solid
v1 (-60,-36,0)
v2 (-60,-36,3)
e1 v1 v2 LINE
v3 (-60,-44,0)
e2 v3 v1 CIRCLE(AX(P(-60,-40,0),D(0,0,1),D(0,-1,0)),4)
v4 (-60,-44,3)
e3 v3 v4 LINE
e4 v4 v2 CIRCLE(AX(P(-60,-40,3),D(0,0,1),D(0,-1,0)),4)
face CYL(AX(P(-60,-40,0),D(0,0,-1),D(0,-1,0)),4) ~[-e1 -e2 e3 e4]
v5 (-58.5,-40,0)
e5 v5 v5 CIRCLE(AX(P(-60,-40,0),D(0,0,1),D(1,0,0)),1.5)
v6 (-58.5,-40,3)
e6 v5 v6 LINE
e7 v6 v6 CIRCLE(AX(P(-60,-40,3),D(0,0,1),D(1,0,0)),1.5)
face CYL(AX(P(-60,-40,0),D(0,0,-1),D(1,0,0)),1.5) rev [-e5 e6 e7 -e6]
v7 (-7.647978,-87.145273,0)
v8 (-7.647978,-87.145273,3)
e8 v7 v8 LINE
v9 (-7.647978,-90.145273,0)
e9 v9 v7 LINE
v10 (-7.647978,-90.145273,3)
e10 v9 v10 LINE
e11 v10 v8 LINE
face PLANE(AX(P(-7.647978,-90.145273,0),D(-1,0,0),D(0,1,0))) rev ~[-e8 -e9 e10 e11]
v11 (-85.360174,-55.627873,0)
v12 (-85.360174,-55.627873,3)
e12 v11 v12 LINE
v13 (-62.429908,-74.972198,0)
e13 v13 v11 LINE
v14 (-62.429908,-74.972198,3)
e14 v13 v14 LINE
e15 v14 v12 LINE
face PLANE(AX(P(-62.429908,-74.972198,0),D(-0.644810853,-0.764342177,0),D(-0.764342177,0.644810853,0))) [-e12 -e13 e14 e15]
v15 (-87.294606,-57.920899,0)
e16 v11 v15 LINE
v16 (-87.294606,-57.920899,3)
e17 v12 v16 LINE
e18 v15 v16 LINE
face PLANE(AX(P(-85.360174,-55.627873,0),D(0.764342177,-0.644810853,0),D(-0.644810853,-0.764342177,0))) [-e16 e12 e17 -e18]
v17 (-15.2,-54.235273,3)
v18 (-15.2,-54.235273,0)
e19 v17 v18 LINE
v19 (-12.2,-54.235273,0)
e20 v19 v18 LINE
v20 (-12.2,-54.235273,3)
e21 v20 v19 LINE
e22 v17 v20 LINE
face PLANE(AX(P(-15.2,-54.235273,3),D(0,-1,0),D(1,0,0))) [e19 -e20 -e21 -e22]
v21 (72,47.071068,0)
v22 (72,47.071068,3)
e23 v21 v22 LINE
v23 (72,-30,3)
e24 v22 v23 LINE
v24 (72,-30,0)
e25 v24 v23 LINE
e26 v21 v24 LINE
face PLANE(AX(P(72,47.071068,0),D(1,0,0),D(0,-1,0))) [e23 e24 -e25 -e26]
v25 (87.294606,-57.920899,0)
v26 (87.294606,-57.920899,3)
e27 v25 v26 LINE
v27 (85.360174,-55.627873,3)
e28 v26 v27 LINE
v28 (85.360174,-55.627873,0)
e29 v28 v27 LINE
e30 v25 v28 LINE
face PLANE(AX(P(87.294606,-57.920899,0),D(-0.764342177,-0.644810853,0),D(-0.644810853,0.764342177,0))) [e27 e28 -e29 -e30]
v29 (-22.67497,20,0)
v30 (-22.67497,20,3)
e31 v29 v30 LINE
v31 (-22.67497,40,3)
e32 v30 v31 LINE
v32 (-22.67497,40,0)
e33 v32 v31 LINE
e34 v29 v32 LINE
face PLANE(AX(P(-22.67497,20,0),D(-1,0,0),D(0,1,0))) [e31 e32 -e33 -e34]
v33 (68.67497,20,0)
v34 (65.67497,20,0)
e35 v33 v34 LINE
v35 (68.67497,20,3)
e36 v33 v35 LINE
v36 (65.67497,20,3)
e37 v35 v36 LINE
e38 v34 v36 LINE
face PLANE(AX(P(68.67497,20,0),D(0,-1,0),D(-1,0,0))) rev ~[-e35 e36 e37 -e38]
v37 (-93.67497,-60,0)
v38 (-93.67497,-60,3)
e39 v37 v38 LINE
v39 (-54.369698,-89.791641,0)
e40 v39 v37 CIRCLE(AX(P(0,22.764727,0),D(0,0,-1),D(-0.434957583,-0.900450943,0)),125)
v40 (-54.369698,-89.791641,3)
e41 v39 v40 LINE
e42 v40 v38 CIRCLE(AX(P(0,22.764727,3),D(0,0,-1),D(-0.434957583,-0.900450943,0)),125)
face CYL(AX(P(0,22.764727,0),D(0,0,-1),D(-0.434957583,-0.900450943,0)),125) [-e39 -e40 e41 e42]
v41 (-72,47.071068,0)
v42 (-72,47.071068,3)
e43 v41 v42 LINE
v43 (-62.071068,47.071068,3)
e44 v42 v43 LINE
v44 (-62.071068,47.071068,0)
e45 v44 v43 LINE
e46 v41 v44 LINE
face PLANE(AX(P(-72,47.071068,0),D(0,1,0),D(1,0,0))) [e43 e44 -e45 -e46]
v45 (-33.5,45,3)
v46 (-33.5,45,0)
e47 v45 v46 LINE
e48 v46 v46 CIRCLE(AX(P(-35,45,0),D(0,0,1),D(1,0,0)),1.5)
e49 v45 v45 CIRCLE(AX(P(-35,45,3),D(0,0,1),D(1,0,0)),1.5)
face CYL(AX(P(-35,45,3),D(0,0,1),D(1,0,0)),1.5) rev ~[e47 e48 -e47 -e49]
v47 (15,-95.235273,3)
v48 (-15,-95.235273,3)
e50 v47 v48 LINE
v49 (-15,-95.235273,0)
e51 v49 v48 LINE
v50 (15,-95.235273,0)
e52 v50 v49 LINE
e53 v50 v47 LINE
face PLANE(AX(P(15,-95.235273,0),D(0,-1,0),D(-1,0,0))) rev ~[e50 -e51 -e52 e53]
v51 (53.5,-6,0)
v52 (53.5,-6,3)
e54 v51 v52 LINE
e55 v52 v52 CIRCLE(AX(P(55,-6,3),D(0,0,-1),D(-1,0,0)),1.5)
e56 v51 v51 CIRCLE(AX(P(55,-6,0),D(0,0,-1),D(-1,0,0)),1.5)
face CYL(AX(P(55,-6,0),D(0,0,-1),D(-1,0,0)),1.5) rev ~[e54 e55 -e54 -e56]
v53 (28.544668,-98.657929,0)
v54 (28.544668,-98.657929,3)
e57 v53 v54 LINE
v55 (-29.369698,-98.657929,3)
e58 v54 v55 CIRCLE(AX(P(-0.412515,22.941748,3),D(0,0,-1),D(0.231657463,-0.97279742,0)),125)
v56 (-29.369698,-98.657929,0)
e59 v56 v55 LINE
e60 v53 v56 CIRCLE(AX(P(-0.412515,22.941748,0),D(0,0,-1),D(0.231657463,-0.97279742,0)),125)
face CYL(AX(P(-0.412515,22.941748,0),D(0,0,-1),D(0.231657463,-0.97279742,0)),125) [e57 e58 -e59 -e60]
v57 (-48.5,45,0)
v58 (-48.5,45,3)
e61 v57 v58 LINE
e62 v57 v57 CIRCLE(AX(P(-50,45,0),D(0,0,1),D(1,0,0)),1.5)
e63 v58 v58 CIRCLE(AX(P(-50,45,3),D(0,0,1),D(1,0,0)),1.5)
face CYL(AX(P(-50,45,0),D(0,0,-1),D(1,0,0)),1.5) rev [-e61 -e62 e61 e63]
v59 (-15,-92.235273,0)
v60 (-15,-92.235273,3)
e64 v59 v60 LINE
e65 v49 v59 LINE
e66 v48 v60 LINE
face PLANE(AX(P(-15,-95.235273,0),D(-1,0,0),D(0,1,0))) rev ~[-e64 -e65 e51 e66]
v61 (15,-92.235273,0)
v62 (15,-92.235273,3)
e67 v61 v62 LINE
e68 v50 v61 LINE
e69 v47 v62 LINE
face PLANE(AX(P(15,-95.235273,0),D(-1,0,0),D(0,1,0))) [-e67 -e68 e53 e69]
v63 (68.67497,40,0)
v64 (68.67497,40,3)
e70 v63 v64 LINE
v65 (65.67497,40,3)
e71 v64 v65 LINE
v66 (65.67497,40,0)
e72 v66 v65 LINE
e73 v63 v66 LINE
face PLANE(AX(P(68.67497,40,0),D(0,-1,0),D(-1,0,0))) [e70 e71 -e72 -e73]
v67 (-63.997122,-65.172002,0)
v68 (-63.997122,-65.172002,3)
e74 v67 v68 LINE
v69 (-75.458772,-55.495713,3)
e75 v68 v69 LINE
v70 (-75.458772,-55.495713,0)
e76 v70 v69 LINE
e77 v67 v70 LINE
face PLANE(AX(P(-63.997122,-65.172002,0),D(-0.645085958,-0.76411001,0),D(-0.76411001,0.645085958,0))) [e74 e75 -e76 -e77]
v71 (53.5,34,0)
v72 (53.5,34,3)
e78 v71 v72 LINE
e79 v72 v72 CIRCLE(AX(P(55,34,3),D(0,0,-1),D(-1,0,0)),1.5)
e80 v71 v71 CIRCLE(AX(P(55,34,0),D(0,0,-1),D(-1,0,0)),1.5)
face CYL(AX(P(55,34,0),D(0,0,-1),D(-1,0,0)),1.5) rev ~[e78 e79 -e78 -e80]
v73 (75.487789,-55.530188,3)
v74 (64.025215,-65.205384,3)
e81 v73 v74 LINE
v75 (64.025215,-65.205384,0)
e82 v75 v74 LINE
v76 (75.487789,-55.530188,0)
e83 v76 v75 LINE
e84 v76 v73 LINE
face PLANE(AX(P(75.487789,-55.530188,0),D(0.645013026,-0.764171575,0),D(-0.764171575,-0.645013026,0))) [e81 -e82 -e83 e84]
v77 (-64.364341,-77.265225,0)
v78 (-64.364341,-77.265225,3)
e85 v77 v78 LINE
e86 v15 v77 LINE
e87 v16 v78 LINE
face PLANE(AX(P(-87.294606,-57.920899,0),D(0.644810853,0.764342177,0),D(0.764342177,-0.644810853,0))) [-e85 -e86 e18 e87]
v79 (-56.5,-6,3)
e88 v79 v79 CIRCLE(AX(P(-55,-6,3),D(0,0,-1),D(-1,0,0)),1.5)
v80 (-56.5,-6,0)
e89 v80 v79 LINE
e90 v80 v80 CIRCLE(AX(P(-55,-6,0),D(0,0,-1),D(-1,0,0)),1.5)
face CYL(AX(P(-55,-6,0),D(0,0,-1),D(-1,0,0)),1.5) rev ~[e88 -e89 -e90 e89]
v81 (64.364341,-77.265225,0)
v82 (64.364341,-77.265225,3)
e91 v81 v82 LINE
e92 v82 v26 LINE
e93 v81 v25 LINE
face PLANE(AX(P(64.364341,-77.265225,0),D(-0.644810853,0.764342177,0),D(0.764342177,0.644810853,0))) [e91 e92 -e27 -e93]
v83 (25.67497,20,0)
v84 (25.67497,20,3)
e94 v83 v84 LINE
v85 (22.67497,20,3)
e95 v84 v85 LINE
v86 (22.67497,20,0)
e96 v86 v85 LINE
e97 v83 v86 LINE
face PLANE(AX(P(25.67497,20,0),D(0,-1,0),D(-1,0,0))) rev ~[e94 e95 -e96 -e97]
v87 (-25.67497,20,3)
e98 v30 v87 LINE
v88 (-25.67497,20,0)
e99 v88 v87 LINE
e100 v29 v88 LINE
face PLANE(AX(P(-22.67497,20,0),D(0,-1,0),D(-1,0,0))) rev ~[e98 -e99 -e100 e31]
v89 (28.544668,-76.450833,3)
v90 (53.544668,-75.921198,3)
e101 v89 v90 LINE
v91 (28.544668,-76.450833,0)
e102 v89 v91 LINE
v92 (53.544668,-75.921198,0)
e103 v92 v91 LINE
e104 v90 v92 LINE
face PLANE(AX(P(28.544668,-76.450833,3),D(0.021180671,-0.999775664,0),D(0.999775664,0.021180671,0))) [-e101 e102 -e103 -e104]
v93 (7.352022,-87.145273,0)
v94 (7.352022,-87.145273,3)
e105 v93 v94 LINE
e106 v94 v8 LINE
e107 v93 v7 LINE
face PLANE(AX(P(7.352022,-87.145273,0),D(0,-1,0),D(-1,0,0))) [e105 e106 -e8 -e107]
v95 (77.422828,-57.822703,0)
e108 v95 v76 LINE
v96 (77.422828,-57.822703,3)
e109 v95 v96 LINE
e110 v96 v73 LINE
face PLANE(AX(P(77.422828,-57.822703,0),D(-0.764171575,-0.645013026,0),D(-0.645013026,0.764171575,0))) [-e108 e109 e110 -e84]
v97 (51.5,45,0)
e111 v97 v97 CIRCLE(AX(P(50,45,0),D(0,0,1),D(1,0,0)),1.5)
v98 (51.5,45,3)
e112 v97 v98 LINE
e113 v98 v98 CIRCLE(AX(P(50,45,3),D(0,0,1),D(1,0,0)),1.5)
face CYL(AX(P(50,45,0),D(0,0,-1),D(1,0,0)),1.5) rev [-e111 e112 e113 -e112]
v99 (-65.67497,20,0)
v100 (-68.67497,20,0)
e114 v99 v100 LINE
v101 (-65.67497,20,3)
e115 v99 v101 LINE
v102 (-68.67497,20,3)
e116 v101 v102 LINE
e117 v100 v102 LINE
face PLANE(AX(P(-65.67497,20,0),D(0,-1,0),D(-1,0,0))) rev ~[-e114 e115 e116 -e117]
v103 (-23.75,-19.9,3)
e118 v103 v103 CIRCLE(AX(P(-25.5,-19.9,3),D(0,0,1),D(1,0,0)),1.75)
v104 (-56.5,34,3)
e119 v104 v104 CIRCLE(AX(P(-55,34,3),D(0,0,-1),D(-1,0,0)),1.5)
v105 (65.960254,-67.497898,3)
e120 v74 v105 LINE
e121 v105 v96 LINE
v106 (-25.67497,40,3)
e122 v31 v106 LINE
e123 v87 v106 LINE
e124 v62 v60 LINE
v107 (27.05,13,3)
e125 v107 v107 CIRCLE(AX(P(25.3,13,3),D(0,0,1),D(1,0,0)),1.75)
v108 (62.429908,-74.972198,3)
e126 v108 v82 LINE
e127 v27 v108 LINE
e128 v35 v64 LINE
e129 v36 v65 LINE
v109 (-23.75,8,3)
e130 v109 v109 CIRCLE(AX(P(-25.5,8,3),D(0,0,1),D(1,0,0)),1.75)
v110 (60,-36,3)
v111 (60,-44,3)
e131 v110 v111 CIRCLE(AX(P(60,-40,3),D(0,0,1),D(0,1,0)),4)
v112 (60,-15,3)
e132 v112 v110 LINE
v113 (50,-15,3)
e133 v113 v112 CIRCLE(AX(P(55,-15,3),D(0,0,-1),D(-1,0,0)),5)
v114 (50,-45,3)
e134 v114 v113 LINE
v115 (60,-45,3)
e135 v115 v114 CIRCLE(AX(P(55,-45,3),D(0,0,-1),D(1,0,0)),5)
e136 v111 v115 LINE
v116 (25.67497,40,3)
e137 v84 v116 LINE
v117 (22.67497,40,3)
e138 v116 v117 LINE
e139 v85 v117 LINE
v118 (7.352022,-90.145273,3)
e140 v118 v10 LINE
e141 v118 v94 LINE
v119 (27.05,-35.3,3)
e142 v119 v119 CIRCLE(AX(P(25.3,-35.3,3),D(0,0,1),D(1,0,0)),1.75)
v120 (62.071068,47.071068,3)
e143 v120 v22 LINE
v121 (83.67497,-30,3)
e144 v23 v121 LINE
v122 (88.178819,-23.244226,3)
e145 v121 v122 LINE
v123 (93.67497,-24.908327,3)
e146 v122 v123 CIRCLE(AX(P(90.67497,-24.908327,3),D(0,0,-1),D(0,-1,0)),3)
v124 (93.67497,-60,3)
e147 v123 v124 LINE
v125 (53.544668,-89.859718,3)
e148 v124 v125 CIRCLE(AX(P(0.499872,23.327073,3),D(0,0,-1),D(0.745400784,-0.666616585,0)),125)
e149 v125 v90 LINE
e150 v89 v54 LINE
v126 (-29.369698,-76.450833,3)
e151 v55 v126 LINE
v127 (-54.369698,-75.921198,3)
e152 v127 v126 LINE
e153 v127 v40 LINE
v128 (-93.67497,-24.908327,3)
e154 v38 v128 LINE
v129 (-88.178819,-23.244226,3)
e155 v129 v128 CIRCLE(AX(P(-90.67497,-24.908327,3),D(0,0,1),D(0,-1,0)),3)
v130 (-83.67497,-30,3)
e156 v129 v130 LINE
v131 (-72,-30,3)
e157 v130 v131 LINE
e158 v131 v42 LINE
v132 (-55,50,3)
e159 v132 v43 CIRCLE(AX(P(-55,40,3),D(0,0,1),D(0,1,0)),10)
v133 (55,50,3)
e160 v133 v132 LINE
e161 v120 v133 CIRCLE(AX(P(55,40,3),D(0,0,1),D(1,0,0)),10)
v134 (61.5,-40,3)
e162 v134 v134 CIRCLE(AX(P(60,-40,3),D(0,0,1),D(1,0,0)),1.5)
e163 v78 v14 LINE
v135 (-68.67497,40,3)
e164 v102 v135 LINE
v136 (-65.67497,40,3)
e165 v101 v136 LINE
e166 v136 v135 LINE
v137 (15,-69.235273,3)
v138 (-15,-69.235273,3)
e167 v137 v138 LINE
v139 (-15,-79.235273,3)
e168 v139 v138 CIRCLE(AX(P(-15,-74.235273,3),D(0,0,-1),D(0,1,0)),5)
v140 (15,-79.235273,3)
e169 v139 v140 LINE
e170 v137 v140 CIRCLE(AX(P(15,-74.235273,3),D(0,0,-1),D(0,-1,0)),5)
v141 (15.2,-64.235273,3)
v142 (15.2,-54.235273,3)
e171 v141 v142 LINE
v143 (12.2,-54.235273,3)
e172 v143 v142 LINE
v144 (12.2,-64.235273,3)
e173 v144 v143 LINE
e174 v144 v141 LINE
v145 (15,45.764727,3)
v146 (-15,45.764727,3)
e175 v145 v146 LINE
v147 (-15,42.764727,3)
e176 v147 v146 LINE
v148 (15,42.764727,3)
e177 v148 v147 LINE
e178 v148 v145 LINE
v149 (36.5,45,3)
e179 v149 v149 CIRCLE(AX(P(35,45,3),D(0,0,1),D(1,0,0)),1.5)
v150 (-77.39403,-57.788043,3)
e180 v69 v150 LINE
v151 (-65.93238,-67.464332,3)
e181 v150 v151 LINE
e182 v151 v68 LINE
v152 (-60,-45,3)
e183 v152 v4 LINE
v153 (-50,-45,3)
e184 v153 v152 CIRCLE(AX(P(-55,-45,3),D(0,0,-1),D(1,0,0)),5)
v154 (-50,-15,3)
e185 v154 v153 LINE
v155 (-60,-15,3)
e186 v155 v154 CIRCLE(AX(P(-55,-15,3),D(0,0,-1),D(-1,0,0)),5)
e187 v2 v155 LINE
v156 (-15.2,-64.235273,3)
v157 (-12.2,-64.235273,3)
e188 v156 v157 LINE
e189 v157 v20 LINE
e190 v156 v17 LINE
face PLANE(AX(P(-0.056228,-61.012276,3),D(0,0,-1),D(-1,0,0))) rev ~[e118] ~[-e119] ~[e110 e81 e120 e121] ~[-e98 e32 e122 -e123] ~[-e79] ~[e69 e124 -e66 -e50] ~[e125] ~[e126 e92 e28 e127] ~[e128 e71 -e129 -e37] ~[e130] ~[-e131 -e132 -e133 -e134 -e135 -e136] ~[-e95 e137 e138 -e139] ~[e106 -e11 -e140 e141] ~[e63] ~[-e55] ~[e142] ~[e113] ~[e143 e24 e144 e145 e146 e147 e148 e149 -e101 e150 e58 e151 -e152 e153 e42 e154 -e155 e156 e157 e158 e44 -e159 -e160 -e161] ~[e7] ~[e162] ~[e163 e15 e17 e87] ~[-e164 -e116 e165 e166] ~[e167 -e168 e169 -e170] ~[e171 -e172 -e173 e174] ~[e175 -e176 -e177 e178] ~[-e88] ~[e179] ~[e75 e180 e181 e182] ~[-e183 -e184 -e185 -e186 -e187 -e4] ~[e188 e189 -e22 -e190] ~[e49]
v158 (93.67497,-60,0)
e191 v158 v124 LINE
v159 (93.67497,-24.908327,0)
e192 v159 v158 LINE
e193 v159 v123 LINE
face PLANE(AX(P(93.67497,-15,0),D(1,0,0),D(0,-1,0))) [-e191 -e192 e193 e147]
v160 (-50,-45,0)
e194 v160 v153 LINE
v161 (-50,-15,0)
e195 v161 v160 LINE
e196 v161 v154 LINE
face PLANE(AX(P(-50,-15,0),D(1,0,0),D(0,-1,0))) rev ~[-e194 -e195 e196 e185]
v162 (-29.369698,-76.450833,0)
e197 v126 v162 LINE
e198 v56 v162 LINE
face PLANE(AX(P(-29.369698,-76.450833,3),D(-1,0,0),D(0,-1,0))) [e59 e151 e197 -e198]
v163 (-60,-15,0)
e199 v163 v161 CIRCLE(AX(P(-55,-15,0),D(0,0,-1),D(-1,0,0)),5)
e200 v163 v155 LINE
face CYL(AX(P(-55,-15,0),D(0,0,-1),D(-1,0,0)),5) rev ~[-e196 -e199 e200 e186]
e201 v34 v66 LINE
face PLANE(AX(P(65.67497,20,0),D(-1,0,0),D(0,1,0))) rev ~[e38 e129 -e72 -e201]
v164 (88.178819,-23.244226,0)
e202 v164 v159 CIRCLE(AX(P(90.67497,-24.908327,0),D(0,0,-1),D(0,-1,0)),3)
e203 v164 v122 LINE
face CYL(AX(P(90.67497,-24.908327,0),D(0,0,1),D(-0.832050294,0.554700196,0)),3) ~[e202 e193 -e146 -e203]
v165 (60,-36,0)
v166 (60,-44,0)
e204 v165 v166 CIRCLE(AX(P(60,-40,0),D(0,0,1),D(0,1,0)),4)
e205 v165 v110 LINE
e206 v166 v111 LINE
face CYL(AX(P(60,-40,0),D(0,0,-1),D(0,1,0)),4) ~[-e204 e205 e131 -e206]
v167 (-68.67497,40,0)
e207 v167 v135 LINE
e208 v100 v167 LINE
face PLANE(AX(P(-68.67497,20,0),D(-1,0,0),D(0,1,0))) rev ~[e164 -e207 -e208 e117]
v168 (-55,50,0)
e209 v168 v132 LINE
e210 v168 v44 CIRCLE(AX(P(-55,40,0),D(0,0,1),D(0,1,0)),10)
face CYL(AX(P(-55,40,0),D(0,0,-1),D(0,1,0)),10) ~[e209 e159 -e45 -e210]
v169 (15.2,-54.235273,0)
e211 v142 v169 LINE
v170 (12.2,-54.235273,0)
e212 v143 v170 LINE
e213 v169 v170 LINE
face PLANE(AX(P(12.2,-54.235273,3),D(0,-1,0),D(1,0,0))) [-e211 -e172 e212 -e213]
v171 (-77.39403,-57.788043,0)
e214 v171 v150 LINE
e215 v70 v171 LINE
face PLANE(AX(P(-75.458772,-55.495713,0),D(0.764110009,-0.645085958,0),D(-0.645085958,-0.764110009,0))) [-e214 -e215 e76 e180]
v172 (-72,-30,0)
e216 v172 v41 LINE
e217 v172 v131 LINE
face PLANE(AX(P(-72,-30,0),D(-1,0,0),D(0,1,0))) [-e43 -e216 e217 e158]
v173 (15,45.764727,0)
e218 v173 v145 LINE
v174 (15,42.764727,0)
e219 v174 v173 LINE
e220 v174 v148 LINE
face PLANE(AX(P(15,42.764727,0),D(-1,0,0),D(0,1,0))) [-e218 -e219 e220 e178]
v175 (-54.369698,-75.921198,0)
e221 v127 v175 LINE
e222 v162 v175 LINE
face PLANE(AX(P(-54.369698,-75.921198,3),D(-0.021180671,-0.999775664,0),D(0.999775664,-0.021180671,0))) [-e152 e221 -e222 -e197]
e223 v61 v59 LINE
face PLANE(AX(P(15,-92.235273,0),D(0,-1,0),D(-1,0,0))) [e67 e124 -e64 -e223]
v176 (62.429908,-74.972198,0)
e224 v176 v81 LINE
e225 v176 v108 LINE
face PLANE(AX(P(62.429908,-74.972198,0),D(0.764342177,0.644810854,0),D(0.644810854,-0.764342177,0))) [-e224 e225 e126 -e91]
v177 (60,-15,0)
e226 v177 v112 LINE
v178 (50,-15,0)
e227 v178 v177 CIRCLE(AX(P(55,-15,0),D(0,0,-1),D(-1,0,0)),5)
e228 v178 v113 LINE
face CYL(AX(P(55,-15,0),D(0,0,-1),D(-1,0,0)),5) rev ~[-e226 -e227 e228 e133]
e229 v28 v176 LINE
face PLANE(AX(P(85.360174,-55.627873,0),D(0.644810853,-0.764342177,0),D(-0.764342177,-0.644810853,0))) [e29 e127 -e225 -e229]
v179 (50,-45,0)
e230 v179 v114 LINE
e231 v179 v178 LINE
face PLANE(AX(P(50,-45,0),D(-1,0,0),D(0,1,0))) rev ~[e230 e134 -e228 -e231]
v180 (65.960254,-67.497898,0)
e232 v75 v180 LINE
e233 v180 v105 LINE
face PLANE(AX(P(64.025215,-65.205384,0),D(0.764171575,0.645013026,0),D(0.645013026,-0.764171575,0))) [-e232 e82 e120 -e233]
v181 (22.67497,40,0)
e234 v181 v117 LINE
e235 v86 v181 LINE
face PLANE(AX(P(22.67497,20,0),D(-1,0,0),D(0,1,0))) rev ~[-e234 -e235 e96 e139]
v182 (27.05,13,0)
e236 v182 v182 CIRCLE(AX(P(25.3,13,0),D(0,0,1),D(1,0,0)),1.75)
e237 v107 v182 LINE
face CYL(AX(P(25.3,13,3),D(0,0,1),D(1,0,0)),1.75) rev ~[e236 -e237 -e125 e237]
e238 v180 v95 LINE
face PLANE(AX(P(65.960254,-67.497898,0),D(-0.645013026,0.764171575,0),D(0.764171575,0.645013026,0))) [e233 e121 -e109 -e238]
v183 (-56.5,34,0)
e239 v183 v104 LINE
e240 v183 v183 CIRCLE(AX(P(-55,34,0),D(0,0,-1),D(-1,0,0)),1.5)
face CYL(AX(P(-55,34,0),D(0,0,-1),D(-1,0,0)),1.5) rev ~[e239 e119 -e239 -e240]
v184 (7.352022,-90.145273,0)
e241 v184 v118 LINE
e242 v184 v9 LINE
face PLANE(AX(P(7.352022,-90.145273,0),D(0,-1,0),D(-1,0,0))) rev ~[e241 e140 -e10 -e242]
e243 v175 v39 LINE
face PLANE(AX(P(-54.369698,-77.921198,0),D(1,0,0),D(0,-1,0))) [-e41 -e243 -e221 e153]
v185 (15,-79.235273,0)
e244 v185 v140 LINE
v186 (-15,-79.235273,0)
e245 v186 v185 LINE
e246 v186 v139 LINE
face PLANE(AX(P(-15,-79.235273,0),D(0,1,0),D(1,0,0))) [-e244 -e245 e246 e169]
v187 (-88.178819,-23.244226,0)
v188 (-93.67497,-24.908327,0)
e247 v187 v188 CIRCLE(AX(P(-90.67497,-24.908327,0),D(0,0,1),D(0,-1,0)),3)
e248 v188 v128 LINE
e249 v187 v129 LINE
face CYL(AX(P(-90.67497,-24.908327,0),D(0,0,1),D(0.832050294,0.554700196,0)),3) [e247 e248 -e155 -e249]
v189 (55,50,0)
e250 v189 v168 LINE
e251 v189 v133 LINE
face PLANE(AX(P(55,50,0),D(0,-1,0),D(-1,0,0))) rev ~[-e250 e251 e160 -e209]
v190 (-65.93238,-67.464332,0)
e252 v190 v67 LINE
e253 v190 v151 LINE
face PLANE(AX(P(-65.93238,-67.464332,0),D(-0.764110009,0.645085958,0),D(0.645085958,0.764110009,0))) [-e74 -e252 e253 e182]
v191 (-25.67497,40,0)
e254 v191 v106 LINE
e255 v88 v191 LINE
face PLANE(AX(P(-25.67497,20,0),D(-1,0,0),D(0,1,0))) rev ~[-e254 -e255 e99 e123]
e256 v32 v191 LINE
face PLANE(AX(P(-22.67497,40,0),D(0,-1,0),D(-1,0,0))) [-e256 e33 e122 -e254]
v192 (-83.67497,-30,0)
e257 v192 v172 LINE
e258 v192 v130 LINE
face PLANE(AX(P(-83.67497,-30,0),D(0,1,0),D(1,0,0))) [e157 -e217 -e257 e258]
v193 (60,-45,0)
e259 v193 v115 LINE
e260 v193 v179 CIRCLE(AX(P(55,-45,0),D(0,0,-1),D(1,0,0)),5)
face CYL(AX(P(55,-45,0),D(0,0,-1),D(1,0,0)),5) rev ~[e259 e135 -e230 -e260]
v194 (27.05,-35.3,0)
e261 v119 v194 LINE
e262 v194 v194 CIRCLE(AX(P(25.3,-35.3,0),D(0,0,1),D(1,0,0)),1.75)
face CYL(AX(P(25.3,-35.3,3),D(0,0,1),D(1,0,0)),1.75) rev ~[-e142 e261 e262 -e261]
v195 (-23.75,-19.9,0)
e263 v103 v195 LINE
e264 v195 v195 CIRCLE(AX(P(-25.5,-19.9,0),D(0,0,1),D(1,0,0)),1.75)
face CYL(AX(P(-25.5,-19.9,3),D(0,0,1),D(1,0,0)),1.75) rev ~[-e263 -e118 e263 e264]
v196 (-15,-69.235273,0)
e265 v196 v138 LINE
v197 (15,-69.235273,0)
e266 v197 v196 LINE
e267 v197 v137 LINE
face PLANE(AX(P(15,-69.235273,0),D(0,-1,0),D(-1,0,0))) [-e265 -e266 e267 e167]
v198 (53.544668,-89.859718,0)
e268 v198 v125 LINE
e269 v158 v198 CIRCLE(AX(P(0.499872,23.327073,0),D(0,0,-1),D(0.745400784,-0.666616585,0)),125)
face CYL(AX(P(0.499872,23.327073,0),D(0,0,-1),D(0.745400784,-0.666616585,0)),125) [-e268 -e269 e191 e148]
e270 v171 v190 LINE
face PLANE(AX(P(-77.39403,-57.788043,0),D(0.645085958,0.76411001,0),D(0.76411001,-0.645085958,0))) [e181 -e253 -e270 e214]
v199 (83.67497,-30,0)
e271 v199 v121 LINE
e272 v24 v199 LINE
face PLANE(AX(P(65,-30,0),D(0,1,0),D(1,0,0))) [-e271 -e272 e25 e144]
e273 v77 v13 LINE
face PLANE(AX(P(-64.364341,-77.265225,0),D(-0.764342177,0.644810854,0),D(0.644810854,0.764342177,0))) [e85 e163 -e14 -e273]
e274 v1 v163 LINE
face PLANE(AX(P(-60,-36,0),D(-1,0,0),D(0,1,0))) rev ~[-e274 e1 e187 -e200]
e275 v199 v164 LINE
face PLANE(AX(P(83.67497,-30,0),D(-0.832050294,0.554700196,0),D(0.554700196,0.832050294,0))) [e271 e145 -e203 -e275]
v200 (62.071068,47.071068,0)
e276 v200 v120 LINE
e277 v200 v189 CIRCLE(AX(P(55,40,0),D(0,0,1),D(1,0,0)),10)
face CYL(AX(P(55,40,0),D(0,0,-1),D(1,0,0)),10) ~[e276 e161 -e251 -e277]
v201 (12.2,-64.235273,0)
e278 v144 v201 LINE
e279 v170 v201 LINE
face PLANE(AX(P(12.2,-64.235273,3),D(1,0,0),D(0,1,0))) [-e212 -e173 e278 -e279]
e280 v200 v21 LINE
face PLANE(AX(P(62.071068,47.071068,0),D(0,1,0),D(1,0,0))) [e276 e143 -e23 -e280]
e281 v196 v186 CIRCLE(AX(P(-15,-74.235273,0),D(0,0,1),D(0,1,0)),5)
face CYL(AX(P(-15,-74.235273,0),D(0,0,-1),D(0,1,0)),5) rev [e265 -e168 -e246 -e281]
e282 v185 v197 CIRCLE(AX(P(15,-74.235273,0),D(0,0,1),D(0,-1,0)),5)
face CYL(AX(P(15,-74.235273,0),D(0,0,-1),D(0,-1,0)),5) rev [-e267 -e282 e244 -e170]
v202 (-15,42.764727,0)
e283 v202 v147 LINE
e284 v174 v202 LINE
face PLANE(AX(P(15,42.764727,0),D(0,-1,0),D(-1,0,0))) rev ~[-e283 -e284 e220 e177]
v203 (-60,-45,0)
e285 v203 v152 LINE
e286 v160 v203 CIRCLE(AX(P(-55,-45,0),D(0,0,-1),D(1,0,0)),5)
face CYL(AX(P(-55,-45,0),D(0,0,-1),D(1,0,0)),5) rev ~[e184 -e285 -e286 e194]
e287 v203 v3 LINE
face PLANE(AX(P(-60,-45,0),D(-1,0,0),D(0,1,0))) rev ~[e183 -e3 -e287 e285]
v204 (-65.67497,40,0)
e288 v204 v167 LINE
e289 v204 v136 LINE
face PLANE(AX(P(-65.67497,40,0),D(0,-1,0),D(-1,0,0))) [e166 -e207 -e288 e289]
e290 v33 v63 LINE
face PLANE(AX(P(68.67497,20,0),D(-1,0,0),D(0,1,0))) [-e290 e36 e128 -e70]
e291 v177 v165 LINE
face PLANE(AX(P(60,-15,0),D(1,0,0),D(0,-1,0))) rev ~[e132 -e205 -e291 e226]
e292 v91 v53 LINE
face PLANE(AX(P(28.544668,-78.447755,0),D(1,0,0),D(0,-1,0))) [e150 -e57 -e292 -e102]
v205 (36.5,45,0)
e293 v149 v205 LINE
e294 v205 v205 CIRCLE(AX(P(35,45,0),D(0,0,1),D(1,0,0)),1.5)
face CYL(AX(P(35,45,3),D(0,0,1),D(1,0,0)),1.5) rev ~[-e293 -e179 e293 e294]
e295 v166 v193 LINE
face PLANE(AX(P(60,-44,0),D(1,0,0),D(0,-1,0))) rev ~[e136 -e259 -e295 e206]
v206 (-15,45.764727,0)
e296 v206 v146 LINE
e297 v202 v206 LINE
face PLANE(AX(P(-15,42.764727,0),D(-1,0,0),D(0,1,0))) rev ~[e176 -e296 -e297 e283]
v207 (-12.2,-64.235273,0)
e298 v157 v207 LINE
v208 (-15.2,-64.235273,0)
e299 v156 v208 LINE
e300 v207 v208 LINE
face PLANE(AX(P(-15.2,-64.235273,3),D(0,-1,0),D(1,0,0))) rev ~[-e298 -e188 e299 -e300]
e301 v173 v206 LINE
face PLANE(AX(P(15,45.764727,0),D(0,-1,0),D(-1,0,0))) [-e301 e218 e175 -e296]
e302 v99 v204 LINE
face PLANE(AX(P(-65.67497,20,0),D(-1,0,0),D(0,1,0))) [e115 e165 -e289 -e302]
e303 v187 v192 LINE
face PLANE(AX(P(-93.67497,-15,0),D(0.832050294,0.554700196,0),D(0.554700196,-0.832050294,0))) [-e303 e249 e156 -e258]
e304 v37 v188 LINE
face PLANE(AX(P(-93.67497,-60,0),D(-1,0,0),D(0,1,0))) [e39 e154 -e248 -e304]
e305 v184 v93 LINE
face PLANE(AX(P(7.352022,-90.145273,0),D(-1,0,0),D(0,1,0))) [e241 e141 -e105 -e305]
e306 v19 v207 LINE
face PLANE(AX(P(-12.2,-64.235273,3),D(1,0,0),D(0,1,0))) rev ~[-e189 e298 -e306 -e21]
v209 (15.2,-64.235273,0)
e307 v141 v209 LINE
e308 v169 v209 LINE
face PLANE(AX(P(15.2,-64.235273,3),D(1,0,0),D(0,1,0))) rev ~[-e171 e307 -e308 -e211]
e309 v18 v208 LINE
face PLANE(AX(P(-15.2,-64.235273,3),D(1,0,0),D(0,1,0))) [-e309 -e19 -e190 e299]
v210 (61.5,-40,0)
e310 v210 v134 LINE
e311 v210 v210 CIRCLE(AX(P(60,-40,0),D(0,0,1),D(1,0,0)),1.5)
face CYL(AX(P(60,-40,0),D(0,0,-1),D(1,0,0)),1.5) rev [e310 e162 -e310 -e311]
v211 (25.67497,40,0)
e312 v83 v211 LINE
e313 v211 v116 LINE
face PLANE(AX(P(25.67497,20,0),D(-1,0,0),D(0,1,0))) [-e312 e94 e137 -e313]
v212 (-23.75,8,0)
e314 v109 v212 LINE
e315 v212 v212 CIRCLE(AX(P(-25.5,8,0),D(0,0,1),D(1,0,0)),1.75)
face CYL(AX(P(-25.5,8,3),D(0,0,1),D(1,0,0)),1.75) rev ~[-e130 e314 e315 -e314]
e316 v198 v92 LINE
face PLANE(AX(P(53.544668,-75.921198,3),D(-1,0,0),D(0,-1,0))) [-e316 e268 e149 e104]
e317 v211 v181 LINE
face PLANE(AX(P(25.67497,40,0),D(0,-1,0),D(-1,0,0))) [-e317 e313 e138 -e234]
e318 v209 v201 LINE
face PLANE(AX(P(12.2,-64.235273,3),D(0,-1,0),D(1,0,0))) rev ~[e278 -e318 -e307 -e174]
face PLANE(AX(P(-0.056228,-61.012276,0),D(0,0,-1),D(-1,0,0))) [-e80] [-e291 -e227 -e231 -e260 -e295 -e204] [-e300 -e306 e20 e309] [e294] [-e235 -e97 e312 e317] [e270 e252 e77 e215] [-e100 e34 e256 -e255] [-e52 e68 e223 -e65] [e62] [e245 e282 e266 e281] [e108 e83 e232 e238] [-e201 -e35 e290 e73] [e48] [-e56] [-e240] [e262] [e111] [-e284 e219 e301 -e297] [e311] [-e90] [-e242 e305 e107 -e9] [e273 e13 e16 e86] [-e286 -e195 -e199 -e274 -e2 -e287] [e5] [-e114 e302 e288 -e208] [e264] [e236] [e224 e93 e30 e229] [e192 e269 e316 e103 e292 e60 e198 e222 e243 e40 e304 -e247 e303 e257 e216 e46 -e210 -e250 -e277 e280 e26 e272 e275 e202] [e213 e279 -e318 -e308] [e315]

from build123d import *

# Parameters (mm, degrees)
SKETCH1_R           = 1.5
BOSS_EXTRUDE1_DEPTH = 3
SKETCH12_W          = 3
SKETCH12_H          = 20
BOSS_EXTRUDE3_DEPTH = 3
SKETCH13_W          = 3
SKETCH13_H          = 20
CUT_EXTRUDE5_DEPTH  = 3
SKETCH15_W          = 30
SKETCH15_H          = 3
BOSS_EXTRUDE4_DEPTH = 3
CUT_EXTRUDE7_DEPTH  = 3
CUT_EXTRUDE8_DEPTH  = 5
SKETCH18_R          = 1.5
SKETCH18_W          = 30
SKETCH18_H          = 3
CUT_EXTRUDE9_DEPTH  = 3
FILLET4_R           = 3
SKETCH25_R          = 1.5
CUT_EXTRUDE11_DEPTH = 10
CUT_EXTRUDE12_DEPTH = 10
SKETCH27_W          = 15
SKETCH27_H          = 3
CUT_EXTRUDE13_DEPTH = 10
SKETCH34_W          = 3
SKETCH34_H          = 10
CUT_EXTRUDE14_DEPTH = 10
SKETCH35_R          = 1.75
CUT_EXTRUDE15_DEPTH = 10


with BuildPart() as part:
    # Sketch1 → Boss-Extrude1 (new body)
    with BuildSketch(Plane.XY):
        with BuildLine():
            Line((-65, 40), (-65, -45))
            ThreePointArc((-65, -45), (-62.071067812, -52.071067812), (-55, -55))
            Line((-55, -55), (55, -55))
            ThreePointArc((55, -55), (62.071067812, -52.071067812), (65, -45))
            Line((65, -45), (65, 40))
            ThreePointArc((65, 40), (62.071067812, 47.071067812), (55, 50))
            Line((55, 50), (-55, 50))
            ThreePointArc((-55, 50), (-62.071067812, 47.071067812), (-65, 40))
        make_face()
        with Locations((-50, 45)):
            Circle(SKETCH1_R, mode=Mode.SUBTRACT)
        with Locations((50, 45)):
            Circle(SKETCH1_R, mode=Mode.SUBTRACT)
        with Locations((-60, -40)):
            Circle(SKETCH1_R, mode=Mode.SUBTRACT)
        with Locations((60, -40)):
            Circle(SKETCH1_R, mode=Mode.SUBTRACT)
    extrude(amount=BOSS_EXTRUDE1_DEPTH)

    # Sketch12 → Boss-Extrude3 (add)
    with BuildSketch(Plane(origin=(0, 0, 0), x_dir=(-1, 0, 0), z_dir=(0, 0, -1))):
        with BuildLine():
            Line((65, 40), (65, -30))
            Line((65, -30), (72, -30))
            Line((72, -30), (72, 40))
            Line((72, 40), (72, 47.071067812))
            Line((72, 47.071067812), (62.071067812, 47.071067812))
            ThreePointArc((62.071067812, 47.071067812), (64.238795325, 43.826834324), (65, 40))
        make_face()
        with Locations((67.174969976, 30)):
            Rectangle(SKETCH12_W, SKETCH12_H, mode=Mode.SUBTRACT)
        with BuildLine():
            Line((-72, 40), (-72, -30))
            Line((-72, -30), (-65, -30))
            Line((-65, -30), (-65, 40))
            ThreePointArc((-65, 40), (-64.238795325, 43.826834324), (-62.071067812, 47.071067812))
            Line((-62.071067812, 47.071067812), (-72, 47.071067812))
            Line((-72, 47.071067812), (-72, 40))
        make_face()
        with Locations((-67.174969976, 30)):
            Rectangle(SKETCH12_W, SKETCH12_H, mode=Mode.SUBTRACT)
    extrude(amount=-BOSS_EXTRUDE3_DEPTH)

    # Sketch13 → Cut-Extrude5 (cut)
    with BuildSketch(Plane(origin=(0, 0, 0), x_dir=(-1, 0, 0), z_dir=(0, 0, -1))):
        with Locations((24.174969976, 30)):
            Rectangle(SKETCH13_W, SKETCH13_H)
        with Locations((-24.174969976, 30)):
            Rectangle(SKETCH13_W, SKETCH13_H)
    extrude(amount=-CUT_EXTRUDE5_DEPTH, mode=Mode.SUBTRACT)

    # Sketch15 → Boss-Extrude4 (add)
    with BuildSketch(Plane(origin=(0, 0, 0), x_dir=(-1, 0, 0), z_dir=(0, 0, -1))):
        with BuildLine():
            Line((73.674969976, -30), (72, -30))
            Line((72, -30), (65, -30))
            Line((65, -30), (65, -45))
            ThreePointArc((65, -45), (62.071067812, -52.071067812), (55, -55))
            Line((55, -55), (-55, -55))
            ThreePointArc((-55, -55), (-62.071067812, -52.071067812), (-65, -45))
            Line((-65, -45), (-65, -30))
            Line((-65, -30), (-72, -30))
            Line((-72, -30), (-73.674969976, -30))
            Line((-73.674969976, -30), (-83.674969976, -30))
            Line((-83.674969976, -30), (-93.674969976, -15))
            Line((-93.674969976, -15), (-93.674969976, -60))
            ThreePointArc((-93.674969976, -60), (-75.11867005, -76.957696294), (-53.544667826, -89.859717787))
            Line((-53.544667826, -89.859717787), (-53.544667826, -77.921197712))
            Line((-53.544667826, -77.921197712), (-43.544667826, -77.921197712))
            Line((-43.544667826, -77.921197712), (-28.544667826, -78.447755309))
            Line((-28.544667826, -78.447755309), (-28.544667826, -98.657929362))
            ThreePointArc((-28.544667826, -98.657929362), (0.412515012, -102.058251887), (29.36969785, -98.657929362))
            Line((29.36969785, -98.657929362), (29.36969785, -78.447755309))
            Line((29.36969785, -78.447755309), (44.36969785, -77.921197712))
            Line((44.36969785, -77.921197712), (54.36969785, -77.921197712))
            Line((54.36969785, -77.921197712), (54.36969785, -89.791641118))
            ThreePointArc((54.36969785, -89.791641118), (75.506234101, -76.853587855), (93.674969976, -60))
            Line((93.674969976, -60), (93.674969976, -15))
            Line((93.674969976, -15), (83.674969976, -30))
            Line((83.674969976, -30), (73.674969976, -30))
        make_face()
        Polygon((-64.364341028, -77.265224848), (-87.294606331, -57.920899244), (-85.360173771, -55.627872713), (-62.429908467, -74.972198318), align=None, mode=Mode.SUBTRACT)
        with Locations((0, -93.735273214)):
            Rectangle(SKETCH15_W, SKETCH15_H, mode=Mode.SUBTRACT)
        Polygon((-65.960254421, -67.497898332), (-77.422828052, -57.822702946), (-75.487788974, -55.53018822), (-64.025215344, -65.205383606), align=None, mode=Mode.SUBTRACT)
        Polygon((85.360173771, -55.627872713), (87.294606331, -57.920899244), (64.364341028, -77.265224848), (62.429908467, -74.972198318), align=None, mode=Mode.SUBTRACT)
        Polygon((77.394030345, -57.788043022), (65.932380202, -67.464332393), (63.997122328, -65.172002365), (75.458772471, -55.495712994), align=None, mode=Mode.SUBTRACT)
    extrude(amount=-BOSS_EXTRUDE4_DEPTH)

    # Sketch16 → Cut-Extrude7 (cut)
    with BuildSketch(Plane(origin=(0, 0, 0), x_dir=(-1, 0, 0), z_dir=(0, 0, -1))):
        with BuildLine():
            Line((-60, -44), (-60, -45))
            ThreePointArc((-60, -45), (-55, -50), (-50, -45))
            Line((-50, -45), (-50, -15))
            ThreePointArc((-50, -15), (-55, -10), (-60, -15))
            Line((-60, -15), (-60, -36))
            ThreePointArc((-60, -36), (-56, -40), (-60, -44))
        make_face()
        with BuildLine():
            Line((60, -36), (60, -15))
            ThreePointArc((60, -15), (55, -10), (50, -15))
            Line((50, -15), (50, -45))
            ThreePointArc((50, -45), (55, -50), (60, -45))
            Line((60, -45), (60, -44))
            ThreePointArc((60, -44), (56, -40), (60, -36))
        make_face()
    extrude(amount=-CUT_EXTRUDE7_DEPTH, mode=Mode.SUBTRACT)

    # Sketch17 → Cut-Extrude8 (cut)
    with BuildSketch(Plane(origin=(0, 0, 0), x_dir=(-1, 0, 0), z_dir=(0, 0, -1))):
        with BuildLine():
            Line((-15, -69.235273214), (15, -69.235273214))
            ThreePointArc((15, -69.235273214), (20, -74.235273214), (15, -79.235273214))
            Line((15, -79.235273214), (-15, -79.235273214))
            ThreePointArc((-15, -79.235273214), (-20, -74.235273214), (-15, -69.235273214))
        make_face()
    extrude(amount=-CUT_EXTRUDE8_DEPTH, mode=Mode.SUBTRACT)

    # Sketch18 → Cut-Extrude9 (cut)
    with BuildSketch(Plane(origin=(0, 0, 0), x_dir=(-1, 0, 0), z_dir=(0, 0, -1))):
        with Locations((55, 34)):
            Circle(SKETCH18_R)
        with Locations((55, -6)):
            Circle(SKETCH18_R)
        with Locations((-55, 34)):
            Circle(SKETCH18_R)
        with Locations((-55, -6)):
            Circle(SKETCH18_R)
        with Locations((0, 44.264726786)):
            Rectangle(SKETCH18_W, SKETCH18_H)
    extrude(amount=-CUT_EXTRUDE9_DEPTH, mode=Mode.SUBTRACT)

    # Fillet4
    fillet4_edges = [part.edges().sort_by_distance(p)[0] for p in [
        (93.674969976, -15, 1.5),
        (-93.674969976, -15, 1.5),
    ]]
    fillet(fillet4_edges, radius=FILLET4_R)

    # Sketch25 → Cut-Extrude11 (cut)
    with BuildSketch(Plane.XY.offset(3)):
        with Locations((-35, 45)):
            Circle(SKETCH25_R)
        with Locations((35, 45)):
            Circle(SKETCH25_R)
    extrude(amount=-CUT_EXTRUDE11_DEPTH, mode=Mode.SUBTRACT)

    # Sketch26 → Cut-Extrude12 (cut)
    with BuildSketch(Plane.XY.offset(3)):
        Polygon((-54.36969785, -77.921197712), (-54.36969785, -75.921197712), (-29.36969785, -76.450833315), (-29.36969785, -78.447755309), align=None)
        Polygon((28.544667826, -78.447755309), (28.544667826, -76.450833315), (53.544667826, -75.921197712), (53.544667826, -77.921197712), align=None)
    extrude(amount=-CUT_EXTRUDE12_DEPTH, mode=Mode.SUBTRACT)

    # Sketch27 → Cut-Extrude13 (cut)
    with BuildSketch(Plane(origin=(0, 0, 0), x_dir=(-1, 0, 0), z_dir=(0, 0, -1))):
        with Locations((0.14797788, -88.645273214)):
            Rectangle(SKETCH27_W, SKETCH27_H)
    extrude(amount=-CUT_EXTRUDE13_DEPTH, mode=Mode.SUBTRACT)

    # Sketch34 → Cut-Extrude14 (cut)
    with BuildSketch(Plane.XY.offset(3)):
        with Locations((13.7, -59.235273214)):
            Rectangle(SKETCH34_W, SKETCH34_H)
        with Locations((-13.7, -59.235273214)):
            Rectangle(SKETCH34_W, SKETCH34_H)
    extrude(amount=-CUT_EXTRUDE14_DEPTH, mode=Mode.SUBTRACT)

    # Sketch35 → Cut-Extrude15 (cut)
    with BuildSketch(Plane.XY.offset(3)):
        with Locations((25.3, -35.3)):
            Circle(SKETCH35_R)
        with Locations((-25.5, -19.9)):
            Circle(SKETCH35_R)
        with Locations((25.3, 13)):
            Circle(SKETCH35_R)
        with Locations((-25.5, 8)):
            Circle(SKETCH35_R)
    extrude(amount=-CUT_EXTRUDE15_DEPTH, mode=Mode.SUBTRACT)


solid = part.part
